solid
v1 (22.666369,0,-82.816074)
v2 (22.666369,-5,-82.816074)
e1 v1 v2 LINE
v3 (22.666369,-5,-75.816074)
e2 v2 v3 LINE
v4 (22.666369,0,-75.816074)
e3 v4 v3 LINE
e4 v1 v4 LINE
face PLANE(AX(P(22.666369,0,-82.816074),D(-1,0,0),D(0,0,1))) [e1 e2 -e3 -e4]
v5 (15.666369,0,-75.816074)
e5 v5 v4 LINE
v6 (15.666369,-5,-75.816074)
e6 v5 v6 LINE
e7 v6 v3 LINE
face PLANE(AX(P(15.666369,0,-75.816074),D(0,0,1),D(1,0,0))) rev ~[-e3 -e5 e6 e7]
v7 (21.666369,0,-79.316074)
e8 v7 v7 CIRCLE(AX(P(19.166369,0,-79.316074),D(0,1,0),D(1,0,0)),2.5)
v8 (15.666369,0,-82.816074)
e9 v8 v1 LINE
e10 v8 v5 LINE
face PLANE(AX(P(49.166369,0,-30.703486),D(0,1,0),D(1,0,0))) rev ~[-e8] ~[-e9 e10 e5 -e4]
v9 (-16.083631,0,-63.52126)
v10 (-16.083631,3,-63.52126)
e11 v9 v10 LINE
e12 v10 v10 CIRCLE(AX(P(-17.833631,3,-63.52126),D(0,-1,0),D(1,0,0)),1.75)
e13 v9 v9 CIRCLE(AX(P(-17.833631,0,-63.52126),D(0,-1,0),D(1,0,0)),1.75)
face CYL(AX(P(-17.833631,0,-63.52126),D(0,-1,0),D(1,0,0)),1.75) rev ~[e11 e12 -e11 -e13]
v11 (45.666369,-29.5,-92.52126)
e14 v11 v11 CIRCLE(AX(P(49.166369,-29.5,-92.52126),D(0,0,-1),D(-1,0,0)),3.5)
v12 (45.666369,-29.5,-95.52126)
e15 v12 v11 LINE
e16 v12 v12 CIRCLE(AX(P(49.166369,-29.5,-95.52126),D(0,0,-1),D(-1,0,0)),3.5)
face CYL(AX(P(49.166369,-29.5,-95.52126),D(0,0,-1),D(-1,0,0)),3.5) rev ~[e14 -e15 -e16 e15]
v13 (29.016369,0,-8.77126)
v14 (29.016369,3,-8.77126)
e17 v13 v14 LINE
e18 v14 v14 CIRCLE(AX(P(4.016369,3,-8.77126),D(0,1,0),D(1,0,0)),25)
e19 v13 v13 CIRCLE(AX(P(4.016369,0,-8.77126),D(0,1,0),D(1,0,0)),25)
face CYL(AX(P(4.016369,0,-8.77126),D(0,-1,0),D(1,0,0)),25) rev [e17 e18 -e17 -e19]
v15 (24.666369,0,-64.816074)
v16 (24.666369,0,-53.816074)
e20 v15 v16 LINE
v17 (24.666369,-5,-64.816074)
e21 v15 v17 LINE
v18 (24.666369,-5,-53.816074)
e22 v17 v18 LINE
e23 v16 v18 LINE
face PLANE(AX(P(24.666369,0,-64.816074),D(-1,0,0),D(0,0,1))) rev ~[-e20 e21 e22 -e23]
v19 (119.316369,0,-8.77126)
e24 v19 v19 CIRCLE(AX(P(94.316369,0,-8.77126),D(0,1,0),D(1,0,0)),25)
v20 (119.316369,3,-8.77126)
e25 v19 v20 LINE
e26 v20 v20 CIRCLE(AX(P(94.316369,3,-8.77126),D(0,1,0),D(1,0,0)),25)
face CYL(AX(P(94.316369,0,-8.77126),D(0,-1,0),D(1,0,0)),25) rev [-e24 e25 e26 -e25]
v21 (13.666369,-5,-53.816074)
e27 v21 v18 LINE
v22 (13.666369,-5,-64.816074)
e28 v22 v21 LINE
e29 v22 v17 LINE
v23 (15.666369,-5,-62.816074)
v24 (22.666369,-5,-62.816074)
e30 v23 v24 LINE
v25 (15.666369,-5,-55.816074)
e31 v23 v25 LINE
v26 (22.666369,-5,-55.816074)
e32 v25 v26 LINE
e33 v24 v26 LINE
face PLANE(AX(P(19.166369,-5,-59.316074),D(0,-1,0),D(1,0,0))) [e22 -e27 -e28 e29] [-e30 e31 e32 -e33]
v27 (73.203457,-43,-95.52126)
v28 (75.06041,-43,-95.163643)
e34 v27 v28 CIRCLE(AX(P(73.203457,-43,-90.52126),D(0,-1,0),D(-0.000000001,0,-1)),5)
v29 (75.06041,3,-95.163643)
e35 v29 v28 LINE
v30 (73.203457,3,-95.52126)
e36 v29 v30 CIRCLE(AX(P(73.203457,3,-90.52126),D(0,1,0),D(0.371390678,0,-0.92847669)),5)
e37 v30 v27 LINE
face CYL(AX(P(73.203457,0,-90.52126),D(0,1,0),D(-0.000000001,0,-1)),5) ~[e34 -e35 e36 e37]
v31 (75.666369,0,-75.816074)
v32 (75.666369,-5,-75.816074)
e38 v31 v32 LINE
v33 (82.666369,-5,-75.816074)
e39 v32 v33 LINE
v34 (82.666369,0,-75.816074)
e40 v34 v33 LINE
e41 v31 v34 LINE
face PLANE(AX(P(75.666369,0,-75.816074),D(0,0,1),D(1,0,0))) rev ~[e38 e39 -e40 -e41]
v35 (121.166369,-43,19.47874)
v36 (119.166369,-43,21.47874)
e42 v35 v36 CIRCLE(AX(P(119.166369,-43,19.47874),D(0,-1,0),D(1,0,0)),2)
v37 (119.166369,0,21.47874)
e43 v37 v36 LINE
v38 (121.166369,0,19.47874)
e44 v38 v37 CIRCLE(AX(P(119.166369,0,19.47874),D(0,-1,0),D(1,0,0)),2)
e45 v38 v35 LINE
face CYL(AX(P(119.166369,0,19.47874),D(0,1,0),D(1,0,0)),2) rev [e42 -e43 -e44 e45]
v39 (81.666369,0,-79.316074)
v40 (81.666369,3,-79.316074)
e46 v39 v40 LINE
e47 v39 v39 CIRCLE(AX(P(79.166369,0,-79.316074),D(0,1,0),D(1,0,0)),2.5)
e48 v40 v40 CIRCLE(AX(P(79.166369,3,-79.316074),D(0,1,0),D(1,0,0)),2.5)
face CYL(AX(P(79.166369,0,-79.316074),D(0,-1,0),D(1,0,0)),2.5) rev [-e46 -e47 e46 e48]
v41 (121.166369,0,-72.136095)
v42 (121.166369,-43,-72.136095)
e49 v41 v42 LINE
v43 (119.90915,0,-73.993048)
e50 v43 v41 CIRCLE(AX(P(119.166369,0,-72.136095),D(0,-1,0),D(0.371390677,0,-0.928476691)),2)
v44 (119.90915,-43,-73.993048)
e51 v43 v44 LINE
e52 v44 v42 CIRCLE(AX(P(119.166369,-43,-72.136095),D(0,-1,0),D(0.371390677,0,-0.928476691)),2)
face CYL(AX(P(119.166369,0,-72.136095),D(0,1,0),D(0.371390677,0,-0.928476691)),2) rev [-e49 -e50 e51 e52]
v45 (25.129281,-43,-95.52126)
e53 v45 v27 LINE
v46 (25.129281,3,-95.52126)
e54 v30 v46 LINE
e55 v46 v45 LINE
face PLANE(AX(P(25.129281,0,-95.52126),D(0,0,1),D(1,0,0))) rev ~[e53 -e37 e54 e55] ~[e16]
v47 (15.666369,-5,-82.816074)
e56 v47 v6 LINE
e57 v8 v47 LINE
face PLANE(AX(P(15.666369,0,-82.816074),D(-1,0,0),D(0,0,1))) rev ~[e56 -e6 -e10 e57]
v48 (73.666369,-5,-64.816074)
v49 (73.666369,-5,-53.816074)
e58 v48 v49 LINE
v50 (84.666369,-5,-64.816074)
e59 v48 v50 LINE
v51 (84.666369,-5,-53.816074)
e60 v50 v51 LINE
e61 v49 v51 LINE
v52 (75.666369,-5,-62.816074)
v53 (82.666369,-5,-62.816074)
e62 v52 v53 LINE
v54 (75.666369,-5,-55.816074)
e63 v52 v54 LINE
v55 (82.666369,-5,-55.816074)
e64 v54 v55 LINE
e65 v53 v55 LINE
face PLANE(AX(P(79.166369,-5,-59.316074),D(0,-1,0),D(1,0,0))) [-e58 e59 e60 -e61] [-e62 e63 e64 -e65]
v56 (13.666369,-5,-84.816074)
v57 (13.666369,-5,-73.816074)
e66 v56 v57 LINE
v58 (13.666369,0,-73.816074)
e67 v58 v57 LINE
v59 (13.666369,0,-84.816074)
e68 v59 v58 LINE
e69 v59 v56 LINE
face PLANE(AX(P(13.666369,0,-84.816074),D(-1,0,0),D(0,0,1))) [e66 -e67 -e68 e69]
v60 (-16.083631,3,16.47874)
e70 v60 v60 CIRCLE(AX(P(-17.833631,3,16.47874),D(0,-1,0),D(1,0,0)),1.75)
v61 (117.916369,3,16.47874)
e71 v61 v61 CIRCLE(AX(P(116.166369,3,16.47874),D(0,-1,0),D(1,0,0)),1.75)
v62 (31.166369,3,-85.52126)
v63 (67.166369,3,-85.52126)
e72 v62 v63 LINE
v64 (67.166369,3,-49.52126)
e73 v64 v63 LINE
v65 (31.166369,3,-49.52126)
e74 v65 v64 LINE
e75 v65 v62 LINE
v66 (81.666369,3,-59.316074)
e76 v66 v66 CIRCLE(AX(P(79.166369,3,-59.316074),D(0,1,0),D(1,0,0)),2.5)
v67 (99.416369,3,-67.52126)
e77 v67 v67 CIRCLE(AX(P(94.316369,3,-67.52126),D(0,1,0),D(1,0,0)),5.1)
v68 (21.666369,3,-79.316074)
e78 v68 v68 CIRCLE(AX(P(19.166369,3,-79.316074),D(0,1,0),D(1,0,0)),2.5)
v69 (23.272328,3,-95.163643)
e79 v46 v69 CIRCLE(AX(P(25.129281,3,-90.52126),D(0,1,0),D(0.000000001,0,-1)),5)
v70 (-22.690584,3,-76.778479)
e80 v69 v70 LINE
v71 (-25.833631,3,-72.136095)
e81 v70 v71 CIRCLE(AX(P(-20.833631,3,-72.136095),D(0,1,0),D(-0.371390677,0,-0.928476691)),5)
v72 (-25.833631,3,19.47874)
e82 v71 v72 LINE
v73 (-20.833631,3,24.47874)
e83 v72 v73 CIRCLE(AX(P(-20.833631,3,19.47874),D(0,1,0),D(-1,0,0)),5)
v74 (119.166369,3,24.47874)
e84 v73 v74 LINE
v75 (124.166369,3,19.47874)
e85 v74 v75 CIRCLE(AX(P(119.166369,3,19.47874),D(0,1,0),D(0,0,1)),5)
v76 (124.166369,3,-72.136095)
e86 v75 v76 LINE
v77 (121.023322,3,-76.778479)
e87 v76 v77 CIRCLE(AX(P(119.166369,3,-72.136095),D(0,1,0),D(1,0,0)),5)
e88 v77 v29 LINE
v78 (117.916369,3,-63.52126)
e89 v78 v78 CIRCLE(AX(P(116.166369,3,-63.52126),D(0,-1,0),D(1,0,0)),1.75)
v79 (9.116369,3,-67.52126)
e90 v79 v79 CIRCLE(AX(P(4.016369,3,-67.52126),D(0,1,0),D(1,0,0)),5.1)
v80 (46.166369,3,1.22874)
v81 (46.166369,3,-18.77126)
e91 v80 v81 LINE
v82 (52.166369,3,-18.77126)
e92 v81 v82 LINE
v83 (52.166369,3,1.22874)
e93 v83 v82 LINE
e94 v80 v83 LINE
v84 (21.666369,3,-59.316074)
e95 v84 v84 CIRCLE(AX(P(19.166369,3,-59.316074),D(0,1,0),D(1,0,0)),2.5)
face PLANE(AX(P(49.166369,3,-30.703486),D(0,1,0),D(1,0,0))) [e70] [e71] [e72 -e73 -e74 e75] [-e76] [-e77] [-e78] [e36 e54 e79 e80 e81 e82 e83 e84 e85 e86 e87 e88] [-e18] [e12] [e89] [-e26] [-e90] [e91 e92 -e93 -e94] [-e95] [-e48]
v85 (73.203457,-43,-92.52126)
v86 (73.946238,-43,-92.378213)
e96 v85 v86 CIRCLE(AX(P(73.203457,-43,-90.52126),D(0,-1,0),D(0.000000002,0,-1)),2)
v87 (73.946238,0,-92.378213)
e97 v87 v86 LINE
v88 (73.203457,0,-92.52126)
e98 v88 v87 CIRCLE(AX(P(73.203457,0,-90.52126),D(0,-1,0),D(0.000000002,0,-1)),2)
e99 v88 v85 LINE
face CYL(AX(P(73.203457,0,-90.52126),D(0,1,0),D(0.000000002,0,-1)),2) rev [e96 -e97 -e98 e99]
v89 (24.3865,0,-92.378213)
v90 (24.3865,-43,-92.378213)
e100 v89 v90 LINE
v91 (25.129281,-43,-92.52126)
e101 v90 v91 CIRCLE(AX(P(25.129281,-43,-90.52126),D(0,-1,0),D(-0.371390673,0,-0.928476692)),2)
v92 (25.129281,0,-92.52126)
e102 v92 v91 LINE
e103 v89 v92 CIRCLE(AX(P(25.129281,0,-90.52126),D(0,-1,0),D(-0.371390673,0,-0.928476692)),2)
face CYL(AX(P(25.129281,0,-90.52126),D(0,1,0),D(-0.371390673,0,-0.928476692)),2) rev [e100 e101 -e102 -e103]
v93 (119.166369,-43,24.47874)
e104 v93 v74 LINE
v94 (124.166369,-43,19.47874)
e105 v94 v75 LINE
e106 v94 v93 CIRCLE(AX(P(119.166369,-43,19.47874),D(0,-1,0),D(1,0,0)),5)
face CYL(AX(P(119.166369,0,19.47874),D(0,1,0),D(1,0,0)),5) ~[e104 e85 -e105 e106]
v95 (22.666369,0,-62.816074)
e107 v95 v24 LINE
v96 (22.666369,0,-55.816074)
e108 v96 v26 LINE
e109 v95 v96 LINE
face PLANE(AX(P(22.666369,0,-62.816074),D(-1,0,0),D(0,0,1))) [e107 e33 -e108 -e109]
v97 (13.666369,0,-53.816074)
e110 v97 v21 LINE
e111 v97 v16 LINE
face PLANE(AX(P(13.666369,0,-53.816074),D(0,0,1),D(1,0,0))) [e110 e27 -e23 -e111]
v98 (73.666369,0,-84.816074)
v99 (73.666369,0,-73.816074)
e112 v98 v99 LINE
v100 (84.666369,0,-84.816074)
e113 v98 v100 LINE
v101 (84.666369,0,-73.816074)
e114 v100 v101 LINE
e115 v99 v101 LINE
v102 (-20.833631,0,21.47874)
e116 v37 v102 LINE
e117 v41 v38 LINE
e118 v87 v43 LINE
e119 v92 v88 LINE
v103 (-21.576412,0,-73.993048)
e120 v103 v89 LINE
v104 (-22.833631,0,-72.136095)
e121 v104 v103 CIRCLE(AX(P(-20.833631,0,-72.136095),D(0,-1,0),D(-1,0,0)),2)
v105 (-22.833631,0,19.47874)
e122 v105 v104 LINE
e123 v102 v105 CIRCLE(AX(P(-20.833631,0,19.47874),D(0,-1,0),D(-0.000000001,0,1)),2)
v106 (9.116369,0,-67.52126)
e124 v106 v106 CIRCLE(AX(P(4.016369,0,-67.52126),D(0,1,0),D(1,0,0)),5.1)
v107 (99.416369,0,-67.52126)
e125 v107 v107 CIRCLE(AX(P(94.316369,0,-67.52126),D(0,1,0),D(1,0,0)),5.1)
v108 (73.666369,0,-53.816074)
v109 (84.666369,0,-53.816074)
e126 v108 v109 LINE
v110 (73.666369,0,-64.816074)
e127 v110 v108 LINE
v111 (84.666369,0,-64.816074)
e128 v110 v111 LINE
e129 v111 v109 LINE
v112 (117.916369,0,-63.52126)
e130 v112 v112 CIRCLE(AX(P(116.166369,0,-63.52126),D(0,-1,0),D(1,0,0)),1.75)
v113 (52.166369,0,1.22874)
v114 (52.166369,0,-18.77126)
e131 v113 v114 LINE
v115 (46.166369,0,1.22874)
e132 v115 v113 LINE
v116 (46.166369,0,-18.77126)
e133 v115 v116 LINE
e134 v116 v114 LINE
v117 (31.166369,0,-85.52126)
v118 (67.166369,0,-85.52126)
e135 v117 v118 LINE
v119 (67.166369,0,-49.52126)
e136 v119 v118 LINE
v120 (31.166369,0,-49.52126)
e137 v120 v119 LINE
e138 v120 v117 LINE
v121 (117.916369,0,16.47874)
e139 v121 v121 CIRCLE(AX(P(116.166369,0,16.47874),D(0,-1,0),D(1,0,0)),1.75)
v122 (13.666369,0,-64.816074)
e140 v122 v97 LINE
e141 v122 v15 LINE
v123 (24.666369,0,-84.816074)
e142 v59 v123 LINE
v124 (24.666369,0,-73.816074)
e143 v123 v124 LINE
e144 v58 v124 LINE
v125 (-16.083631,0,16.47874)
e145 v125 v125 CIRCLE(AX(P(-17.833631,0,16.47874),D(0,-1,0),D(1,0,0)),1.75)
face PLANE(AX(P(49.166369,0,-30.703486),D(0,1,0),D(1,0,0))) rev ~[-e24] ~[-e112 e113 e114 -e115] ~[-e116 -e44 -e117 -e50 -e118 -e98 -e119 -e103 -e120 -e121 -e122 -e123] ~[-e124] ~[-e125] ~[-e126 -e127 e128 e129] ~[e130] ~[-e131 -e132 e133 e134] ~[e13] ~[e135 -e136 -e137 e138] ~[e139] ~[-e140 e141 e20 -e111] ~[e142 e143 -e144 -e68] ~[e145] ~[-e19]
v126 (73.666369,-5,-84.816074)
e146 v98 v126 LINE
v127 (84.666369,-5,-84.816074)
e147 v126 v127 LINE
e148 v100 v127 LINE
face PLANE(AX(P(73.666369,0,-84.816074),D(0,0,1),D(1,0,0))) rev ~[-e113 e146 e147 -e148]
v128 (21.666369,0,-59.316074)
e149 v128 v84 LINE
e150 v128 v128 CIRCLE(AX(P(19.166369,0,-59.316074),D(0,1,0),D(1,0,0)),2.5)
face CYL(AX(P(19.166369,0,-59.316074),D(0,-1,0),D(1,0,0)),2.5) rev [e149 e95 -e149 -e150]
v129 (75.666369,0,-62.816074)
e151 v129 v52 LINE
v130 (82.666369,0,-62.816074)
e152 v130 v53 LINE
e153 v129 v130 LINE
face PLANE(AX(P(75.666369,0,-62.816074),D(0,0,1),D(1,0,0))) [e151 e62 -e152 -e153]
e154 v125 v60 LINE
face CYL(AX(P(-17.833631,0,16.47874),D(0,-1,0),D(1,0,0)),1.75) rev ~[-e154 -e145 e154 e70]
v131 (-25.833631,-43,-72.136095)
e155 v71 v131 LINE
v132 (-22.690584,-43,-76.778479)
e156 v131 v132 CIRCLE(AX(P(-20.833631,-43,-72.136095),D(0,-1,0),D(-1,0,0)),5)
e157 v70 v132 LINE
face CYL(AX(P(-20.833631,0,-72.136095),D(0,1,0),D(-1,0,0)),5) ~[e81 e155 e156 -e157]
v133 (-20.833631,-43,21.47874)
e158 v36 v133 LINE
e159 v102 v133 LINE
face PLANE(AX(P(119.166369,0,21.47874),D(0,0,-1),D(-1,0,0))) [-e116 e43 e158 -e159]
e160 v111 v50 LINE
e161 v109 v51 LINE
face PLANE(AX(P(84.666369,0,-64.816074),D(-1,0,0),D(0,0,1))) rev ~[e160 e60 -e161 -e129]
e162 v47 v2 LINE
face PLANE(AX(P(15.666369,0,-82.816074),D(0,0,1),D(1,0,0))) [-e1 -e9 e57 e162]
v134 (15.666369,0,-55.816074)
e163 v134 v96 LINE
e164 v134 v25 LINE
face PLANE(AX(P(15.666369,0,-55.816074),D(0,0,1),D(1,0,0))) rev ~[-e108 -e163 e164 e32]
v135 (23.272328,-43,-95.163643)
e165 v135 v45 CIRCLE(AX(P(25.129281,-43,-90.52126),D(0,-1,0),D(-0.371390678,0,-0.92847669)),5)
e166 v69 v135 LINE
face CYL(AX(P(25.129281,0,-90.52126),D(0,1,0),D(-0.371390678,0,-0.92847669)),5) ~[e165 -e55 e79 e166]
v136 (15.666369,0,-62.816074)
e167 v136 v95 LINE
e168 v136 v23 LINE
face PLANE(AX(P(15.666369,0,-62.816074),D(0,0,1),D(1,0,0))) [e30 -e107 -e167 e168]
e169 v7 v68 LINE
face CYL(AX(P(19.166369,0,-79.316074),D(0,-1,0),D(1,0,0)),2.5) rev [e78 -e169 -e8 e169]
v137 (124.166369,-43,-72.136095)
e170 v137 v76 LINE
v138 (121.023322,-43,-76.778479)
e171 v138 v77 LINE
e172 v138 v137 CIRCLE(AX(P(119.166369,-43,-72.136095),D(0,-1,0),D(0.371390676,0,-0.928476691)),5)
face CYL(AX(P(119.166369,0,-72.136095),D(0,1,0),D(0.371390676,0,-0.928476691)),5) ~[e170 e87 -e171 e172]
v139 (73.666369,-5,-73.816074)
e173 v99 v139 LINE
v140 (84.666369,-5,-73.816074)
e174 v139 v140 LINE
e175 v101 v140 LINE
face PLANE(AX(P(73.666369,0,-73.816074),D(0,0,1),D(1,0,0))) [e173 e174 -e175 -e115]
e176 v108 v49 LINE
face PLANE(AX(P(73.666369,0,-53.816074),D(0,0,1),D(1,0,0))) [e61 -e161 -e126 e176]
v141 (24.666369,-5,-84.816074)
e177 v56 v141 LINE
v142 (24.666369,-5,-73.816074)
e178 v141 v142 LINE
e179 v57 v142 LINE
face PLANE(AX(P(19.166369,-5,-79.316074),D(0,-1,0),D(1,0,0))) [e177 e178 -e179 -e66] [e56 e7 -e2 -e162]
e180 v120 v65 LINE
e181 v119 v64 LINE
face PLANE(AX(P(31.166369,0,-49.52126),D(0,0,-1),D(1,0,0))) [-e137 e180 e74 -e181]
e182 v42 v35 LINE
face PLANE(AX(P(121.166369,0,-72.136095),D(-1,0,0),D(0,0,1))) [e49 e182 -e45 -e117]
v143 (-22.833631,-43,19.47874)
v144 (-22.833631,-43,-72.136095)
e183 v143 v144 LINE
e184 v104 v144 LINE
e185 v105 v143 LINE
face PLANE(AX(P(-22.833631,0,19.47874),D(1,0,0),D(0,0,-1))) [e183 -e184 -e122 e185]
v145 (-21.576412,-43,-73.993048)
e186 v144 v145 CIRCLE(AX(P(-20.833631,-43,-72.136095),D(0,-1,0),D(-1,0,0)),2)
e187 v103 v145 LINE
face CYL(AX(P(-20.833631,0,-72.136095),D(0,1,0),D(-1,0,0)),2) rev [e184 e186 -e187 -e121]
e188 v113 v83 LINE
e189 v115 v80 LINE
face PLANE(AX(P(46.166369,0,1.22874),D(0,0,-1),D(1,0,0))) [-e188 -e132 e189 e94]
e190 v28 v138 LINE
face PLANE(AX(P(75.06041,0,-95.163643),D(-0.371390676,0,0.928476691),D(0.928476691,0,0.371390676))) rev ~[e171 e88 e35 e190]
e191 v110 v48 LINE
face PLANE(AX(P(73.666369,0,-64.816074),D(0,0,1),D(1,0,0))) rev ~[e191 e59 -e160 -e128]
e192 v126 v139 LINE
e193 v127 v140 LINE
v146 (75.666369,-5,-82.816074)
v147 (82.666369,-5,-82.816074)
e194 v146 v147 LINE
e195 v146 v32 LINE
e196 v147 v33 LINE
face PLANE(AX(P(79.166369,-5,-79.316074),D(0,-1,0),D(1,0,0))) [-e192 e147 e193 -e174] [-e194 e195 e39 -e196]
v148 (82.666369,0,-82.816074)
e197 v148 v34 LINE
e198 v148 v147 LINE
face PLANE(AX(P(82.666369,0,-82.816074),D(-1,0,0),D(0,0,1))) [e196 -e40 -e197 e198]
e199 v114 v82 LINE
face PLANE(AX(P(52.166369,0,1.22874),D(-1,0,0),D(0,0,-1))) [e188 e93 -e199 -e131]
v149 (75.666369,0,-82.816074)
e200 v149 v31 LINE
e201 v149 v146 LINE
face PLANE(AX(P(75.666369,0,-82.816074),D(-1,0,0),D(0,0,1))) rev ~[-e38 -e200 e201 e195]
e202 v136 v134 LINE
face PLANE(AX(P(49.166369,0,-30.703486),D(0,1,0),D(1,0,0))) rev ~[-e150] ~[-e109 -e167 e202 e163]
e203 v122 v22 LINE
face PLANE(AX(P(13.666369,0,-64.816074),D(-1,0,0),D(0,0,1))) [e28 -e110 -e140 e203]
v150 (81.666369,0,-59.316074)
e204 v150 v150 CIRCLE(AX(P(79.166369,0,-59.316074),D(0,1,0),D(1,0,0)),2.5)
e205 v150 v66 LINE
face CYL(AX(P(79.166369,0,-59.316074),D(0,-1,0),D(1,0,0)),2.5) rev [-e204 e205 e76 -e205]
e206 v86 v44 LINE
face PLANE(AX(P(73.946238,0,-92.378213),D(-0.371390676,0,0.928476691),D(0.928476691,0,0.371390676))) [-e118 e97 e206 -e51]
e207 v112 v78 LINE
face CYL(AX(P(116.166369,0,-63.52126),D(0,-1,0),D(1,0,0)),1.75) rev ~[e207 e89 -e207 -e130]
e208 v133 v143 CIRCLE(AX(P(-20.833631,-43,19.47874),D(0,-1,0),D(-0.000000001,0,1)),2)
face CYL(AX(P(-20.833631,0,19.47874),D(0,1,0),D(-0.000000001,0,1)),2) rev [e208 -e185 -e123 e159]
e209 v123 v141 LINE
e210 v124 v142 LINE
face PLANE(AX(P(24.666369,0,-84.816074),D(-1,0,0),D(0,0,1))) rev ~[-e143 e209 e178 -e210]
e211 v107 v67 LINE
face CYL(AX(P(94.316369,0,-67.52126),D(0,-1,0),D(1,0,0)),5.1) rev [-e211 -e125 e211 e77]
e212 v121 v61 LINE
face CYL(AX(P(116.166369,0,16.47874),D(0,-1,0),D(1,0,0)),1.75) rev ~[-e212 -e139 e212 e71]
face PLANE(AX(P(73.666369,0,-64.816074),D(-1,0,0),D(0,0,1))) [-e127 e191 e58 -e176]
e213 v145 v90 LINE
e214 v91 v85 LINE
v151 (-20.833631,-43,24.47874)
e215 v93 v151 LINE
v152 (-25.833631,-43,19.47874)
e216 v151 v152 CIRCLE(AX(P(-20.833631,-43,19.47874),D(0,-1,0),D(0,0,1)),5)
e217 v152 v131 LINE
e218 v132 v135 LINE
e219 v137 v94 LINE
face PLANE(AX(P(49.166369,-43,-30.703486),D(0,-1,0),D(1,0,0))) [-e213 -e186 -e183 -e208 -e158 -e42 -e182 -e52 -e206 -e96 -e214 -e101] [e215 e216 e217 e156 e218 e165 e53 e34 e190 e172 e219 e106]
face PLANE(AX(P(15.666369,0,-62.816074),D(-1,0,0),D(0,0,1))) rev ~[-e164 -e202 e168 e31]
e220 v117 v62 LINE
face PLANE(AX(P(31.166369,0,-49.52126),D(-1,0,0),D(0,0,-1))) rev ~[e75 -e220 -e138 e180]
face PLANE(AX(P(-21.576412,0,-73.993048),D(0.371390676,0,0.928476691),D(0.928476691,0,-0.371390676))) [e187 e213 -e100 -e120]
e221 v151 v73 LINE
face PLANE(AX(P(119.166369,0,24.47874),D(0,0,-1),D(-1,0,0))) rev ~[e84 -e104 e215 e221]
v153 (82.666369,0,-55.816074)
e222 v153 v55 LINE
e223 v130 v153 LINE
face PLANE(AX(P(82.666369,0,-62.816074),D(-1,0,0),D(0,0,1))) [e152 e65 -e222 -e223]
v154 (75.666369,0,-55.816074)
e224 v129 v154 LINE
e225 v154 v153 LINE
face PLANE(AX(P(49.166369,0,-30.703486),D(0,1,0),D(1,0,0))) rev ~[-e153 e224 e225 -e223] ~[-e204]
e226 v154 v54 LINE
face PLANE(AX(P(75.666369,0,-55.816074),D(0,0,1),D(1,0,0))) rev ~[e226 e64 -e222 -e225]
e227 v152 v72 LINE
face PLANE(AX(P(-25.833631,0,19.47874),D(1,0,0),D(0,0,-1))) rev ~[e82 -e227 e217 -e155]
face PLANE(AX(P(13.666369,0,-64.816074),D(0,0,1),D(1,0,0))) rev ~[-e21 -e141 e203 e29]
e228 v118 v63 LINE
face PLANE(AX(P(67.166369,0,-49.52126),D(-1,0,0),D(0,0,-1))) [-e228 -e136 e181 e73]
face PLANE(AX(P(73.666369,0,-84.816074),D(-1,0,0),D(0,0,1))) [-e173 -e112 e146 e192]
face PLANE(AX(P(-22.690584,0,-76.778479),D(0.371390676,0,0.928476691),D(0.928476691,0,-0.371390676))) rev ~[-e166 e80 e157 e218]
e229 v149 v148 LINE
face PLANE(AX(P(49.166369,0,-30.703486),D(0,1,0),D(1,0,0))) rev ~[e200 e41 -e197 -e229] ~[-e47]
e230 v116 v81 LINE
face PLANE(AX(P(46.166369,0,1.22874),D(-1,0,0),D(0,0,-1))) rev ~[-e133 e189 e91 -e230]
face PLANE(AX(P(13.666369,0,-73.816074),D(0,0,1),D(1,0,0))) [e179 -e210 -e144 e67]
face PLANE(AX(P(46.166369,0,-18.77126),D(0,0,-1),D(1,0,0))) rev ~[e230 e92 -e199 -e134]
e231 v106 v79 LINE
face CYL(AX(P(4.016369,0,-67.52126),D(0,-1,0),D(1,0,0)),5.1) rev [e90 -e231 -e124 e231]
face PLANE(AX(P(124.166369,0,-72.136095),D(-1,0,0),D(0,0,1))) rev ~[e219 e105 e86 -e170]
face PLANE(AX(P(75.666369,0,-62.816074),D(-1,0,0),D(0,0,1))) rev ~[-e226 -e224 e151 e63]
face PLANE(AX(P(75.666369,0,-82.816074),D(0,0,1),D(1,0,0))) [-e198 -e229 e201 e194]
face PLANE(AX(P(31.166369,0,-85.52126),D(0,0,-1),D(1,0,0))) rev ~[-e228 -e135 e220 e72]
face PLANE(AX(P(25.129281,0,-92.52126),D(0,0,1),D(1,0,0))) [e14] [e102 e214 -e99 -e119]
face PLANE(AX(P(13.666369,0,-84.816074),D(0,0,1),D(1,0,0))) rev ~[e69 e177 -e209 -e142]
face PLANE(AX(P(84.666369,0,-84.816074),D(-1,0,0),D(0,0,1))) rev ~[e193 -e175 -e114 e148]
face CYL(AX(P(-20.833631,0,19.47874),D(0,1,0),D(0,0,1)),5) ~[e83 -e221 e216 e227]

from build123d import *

# Parameters (mm, degrees)
SKETCH1_R           = 25
SKETCH1_R_2         = 5.1
SKETCH1_R_3         = 2.5
SKETCH1_W           = 36
SKETCH1_H           = 36
SKETCH1_W_2         = 6
SKETCH1_H_2         = 20
BOSS_EXTRUDE1_DEPTH = 3
BOSS_EXTRUDE2_DEPTH = 43
SKETCH4_W           = 11
SKETCH4_H           = 11
SKETCH4_W_2         = 7
SKETCH4_H_2         = 7
BOSS_EXTRUDE3_DEPTH = 5
SKETCH5_R           = 1.75
CUT_EXTRUDE1_DEPTH  = 5
SKETCH6_R           = 3.5
CUT_EXTRUDE2_DEPTH  = 3


with BuildPart() as part:
    # Sketch1 → Boss-Extrude1 (new body)
    with BuildSketch(Plane(origin=(0, 0, 0), x_dir=(1, 0, 0), z_dir=(0, 1, 0))):
        with BuildLine():
            Line((-20.833630945, -24.478740106), (119.166369055, -24.478740106))
            ThreePointArc((119.166369055, -24.478740106), (122.701902961, -23.014274012), (124.166369055, -19.478740106))
            Line((124.166369055, -19.478740106), (124.166369055, 72.136095087))
            ThreePointArc((124.166369055, 72.136095087), (123.306705208, 74.939239133), (121.023322437, 76.778478541))
            Line((121.023322437, 76.778478541), (75.060410419, 95.163643348))
            ThreePointArc((75.060410419, 95.163643348), (74.148994643, 95.431041828), (73.203457037, 95.521259894))
            Line((73.203457037, 95.521259894), (25.129281073, 95.521259894))
            ThreePointArc((25.129281073, 95.521259894), (24.183743467, 95.431041828), (23.272327691, 95.163643348))
            Line((23.272327691, 95.163643348), (-22.690584327, 76.778478541))
            ThreePointArc((-22.690584327, 76.778478541), (-24.973967097, 74.939239133), (-25.833630945, 72.136095087))
            Line((-25.833630945, 72.136095087), (-25.833630945, -19.478740106))
            ThreePointArc((-25.833630945, -19.478740106), (-24.369164851, -23.014274012), (-20.833630945, -24.478740106))
        make_face()
        with Locations((4.016369055, 8.771259894)):
            Circle(SKETCH1_R, mode=Mode.SUBTRACT)
        with Locations((94.316369055, 8.771259894)):
            Circle(SKETCH1_R, mode=Mode.SUBTRACT)
        with Locations((4.016369055, 67.521259894)):
            Circle(SKETCH1_R_2, mode=Mode.SUBTRACT)
        with Locations((94.316369055, 67.521259894)):
            Circle(SKETCH1_R_2, mode=Mode.SUBTRACT)
        with Locations((19.166369055, 79.316074422)):
            Circle(SKETCH1_R_3, mode=Mode.SUBTRACT)
        with Locations((19.166369055, 59.316074422)):
            Circle(SKETCH1_R_3, mode=Mode.SUBTRACT)
        with Locations((79.166369055, 59.316074422)):
            Circle(SKETCH1_R_3, mode=Mode.SUBTRACT)
        with Locations((79.166369055, 79.316074422)):
            Circle(SKETCH1_R_3, mode=Mode.SUBTRACT)
        with Locations((49.166369055, 67.521259894)):
            Rectangle(SKETCH1_W, SKETCH1_H, mode=Mode.SUBTRACT)
        with Locations((49.166369055, 8.771259894)):
            Rectangle(SKETCH1_W_2, SKETCH1_H_2, mode=Mode.SUBTRACT)
    extrude(amount=BOSS_EXTRUDE1_DEPTH)

    # Sketch2 → Boss-Extrude2 (add)
    with BuildSketch(Plane.XZ):
        with BuildLine():
            Line((-25.833630945, 19.478740106), (-25.833630945, -72.136095087))
            ThreePointArc((-25.833630945, -72.136095087), (-24.973967097, -74.939239133), (-22.690584327, -76.778478541))
            Line((-22.690584327, -76.778478541), (23.272327691, -95.163643348))
            ThreePointArc((23.272327691, -95.163643348), (24.183743467, -95.431041828), (25.129281073, -95.521259894))
            Line((25.129281073, -95.521259894), (73.203457037, -95.521259894))
            ThreePointArc((73.203457037, -95.521259894), (74.148994643, -95.431041828), (75.060410419, -95.163643348))
            Line((75.060410419, -95.163643348), (121.023322437, -76.778478541))
            ThreePointArc((121.023322437, -76.778478541), (123.306705208, -74.939239133), (124.166369055, -72.136095087))
            Line((124.166369055, -72.136095087), (124.166369055, 19.478740106))
            ThreePointArc((124.166369055, 19.478740106), (122.701902961, 23.014274012), (119.166369055, 24.478740106))
            Line((119.166369055, 24.478740106), (-20.833630945, 24.478740106))
            ThreePointArc((-20.833630945, 24.478740106), (-24.369164851, 23.014274012), (-25.833630945, 19.478740106))
        make_face()
        with BuildLine():
            Line((119.166369055, 21.478740106), (-20.833630945, 21.478740106))
            ThreePointArc((-20.833630945, 21.478740106), (-22.247844507, 20.892953668), (-22.833630945, 19.478740106))
            Line((-22.833630945, 19.478740106), (-22.833630945, -72.136095087))
            ThreePointArc((-22.833630945, -72.136095087), (-22.489765406, -73.257352705), (-21.576412297, -73.993048469))
            Line((-21.576412297, -73.993048469), (24.38649972, -92.378213276))
            ThreePointArc((24.38649972, -92.378213276), (24.751066031, -92.485172667), (25.129281073, -92.521259894))
            Line((25.129281073, -92.521259894), (73.203457037, -92.521259894))
            ThreePointArc((73.203457037, -92.521259894), (73.58167208, -92.485172667), (73.94623839, -92.378213276))
            Line((73.94623839, -92.378213276), (119.909150408, -73.993048469))
            ThreePointArc((119.909150408, -73.993048469), (120.822503516, -73.257352705), (121.166369055, -72.136095087))
            Line((121.166369055, -72.136095087), (121.166369055, 19.478740106))
            ThreePointArc((121.166369055, 19.478740106), (120.580582618, 20.892953668), (119.166369055, 21.478740106))
        make_face(mode=Mode.SUBTRACT)
    extrude(amount=BOSS_EXTRUDE2_DEPTH)

    # Sketch4 → Boss-Extrude3 (add)
    with BuildSketch(Plane.XZ):
        with Locations((79.166369055, -79.316074422)):
            Rectangle(SKETCH4_W, SKETCH4_H)
        with Locations((79.166369055, -79.316074422)):
            Rectangle(SKETCH4_W_2, SKETCH4_H_2, mode=Mode.SUBTRACT)
        with Locations((79.166369055, -59.316074422)):
            Rectangle(SKETCH4_W, SKETCH4_H)
        with Locations((79.166369055, -59.316074422)):
            Rectangle(SKETCH4_W_2, SKETCH4_H_2, mode=Mode.SUBTRACT)
        with Locations((19.166369055, -59.316074422)):
            Rectangle(SKETCH4_W, SKETCH4_H)
        with Locations((19.166369055, -59.316074422)):
            Rectangle(SKETCH4_W_2, SKETCH4_H_2, mode=Mode.SUBTRACT)
        with Locations((19.166369055, -79.316074422)):
            Rectangle(SKETCH4_W, SKETCH4_H)
        with Locations((19.166369055, -79.316074422)):
            Rectangle(SKETCH4_W_2, SKETCH4_H_2, mode=Mode.SUBTRACT)
    extrude(amount=BOSS_EXTRUDE3_DEPTH)

    # Sketch5 → Cut-Extrude1 (cut)
    with BuildSketch(Plane.XZ):
        with Locations((-17.833630945, 16.478740106)):
            Circle(SKETCH5_R)
        with Locations((116.166369055, 16.478740106)):
            Circle(SKETCH5_R)
        with Locations((-17.833630945, -63.521259894)):
            Circle(SKETCH5_R)
        with Locations((116.166369055, -63.521259894)):
            Circle(SKETCH5_R)
    extrude(amount=-CUT_EXTRUDE1_DEPTH, mode=Mode.SUBTRACT)

    # Sketch6 → Cut-Extrude2 (cut)
    with BuildSketch(Plane(origin=(0, 0, -95.521259894), x_dir=(-1, 0, 0), z_dir=(0, 0, -1))):
        with Locations((-49.166369055, -29.5)):
            Circle(SKETCH6_R)
    extrude(amount=-CUT_EXTRUDE2_DEPTH, mode=Mode.SUBTRACT)


solid = part.part
